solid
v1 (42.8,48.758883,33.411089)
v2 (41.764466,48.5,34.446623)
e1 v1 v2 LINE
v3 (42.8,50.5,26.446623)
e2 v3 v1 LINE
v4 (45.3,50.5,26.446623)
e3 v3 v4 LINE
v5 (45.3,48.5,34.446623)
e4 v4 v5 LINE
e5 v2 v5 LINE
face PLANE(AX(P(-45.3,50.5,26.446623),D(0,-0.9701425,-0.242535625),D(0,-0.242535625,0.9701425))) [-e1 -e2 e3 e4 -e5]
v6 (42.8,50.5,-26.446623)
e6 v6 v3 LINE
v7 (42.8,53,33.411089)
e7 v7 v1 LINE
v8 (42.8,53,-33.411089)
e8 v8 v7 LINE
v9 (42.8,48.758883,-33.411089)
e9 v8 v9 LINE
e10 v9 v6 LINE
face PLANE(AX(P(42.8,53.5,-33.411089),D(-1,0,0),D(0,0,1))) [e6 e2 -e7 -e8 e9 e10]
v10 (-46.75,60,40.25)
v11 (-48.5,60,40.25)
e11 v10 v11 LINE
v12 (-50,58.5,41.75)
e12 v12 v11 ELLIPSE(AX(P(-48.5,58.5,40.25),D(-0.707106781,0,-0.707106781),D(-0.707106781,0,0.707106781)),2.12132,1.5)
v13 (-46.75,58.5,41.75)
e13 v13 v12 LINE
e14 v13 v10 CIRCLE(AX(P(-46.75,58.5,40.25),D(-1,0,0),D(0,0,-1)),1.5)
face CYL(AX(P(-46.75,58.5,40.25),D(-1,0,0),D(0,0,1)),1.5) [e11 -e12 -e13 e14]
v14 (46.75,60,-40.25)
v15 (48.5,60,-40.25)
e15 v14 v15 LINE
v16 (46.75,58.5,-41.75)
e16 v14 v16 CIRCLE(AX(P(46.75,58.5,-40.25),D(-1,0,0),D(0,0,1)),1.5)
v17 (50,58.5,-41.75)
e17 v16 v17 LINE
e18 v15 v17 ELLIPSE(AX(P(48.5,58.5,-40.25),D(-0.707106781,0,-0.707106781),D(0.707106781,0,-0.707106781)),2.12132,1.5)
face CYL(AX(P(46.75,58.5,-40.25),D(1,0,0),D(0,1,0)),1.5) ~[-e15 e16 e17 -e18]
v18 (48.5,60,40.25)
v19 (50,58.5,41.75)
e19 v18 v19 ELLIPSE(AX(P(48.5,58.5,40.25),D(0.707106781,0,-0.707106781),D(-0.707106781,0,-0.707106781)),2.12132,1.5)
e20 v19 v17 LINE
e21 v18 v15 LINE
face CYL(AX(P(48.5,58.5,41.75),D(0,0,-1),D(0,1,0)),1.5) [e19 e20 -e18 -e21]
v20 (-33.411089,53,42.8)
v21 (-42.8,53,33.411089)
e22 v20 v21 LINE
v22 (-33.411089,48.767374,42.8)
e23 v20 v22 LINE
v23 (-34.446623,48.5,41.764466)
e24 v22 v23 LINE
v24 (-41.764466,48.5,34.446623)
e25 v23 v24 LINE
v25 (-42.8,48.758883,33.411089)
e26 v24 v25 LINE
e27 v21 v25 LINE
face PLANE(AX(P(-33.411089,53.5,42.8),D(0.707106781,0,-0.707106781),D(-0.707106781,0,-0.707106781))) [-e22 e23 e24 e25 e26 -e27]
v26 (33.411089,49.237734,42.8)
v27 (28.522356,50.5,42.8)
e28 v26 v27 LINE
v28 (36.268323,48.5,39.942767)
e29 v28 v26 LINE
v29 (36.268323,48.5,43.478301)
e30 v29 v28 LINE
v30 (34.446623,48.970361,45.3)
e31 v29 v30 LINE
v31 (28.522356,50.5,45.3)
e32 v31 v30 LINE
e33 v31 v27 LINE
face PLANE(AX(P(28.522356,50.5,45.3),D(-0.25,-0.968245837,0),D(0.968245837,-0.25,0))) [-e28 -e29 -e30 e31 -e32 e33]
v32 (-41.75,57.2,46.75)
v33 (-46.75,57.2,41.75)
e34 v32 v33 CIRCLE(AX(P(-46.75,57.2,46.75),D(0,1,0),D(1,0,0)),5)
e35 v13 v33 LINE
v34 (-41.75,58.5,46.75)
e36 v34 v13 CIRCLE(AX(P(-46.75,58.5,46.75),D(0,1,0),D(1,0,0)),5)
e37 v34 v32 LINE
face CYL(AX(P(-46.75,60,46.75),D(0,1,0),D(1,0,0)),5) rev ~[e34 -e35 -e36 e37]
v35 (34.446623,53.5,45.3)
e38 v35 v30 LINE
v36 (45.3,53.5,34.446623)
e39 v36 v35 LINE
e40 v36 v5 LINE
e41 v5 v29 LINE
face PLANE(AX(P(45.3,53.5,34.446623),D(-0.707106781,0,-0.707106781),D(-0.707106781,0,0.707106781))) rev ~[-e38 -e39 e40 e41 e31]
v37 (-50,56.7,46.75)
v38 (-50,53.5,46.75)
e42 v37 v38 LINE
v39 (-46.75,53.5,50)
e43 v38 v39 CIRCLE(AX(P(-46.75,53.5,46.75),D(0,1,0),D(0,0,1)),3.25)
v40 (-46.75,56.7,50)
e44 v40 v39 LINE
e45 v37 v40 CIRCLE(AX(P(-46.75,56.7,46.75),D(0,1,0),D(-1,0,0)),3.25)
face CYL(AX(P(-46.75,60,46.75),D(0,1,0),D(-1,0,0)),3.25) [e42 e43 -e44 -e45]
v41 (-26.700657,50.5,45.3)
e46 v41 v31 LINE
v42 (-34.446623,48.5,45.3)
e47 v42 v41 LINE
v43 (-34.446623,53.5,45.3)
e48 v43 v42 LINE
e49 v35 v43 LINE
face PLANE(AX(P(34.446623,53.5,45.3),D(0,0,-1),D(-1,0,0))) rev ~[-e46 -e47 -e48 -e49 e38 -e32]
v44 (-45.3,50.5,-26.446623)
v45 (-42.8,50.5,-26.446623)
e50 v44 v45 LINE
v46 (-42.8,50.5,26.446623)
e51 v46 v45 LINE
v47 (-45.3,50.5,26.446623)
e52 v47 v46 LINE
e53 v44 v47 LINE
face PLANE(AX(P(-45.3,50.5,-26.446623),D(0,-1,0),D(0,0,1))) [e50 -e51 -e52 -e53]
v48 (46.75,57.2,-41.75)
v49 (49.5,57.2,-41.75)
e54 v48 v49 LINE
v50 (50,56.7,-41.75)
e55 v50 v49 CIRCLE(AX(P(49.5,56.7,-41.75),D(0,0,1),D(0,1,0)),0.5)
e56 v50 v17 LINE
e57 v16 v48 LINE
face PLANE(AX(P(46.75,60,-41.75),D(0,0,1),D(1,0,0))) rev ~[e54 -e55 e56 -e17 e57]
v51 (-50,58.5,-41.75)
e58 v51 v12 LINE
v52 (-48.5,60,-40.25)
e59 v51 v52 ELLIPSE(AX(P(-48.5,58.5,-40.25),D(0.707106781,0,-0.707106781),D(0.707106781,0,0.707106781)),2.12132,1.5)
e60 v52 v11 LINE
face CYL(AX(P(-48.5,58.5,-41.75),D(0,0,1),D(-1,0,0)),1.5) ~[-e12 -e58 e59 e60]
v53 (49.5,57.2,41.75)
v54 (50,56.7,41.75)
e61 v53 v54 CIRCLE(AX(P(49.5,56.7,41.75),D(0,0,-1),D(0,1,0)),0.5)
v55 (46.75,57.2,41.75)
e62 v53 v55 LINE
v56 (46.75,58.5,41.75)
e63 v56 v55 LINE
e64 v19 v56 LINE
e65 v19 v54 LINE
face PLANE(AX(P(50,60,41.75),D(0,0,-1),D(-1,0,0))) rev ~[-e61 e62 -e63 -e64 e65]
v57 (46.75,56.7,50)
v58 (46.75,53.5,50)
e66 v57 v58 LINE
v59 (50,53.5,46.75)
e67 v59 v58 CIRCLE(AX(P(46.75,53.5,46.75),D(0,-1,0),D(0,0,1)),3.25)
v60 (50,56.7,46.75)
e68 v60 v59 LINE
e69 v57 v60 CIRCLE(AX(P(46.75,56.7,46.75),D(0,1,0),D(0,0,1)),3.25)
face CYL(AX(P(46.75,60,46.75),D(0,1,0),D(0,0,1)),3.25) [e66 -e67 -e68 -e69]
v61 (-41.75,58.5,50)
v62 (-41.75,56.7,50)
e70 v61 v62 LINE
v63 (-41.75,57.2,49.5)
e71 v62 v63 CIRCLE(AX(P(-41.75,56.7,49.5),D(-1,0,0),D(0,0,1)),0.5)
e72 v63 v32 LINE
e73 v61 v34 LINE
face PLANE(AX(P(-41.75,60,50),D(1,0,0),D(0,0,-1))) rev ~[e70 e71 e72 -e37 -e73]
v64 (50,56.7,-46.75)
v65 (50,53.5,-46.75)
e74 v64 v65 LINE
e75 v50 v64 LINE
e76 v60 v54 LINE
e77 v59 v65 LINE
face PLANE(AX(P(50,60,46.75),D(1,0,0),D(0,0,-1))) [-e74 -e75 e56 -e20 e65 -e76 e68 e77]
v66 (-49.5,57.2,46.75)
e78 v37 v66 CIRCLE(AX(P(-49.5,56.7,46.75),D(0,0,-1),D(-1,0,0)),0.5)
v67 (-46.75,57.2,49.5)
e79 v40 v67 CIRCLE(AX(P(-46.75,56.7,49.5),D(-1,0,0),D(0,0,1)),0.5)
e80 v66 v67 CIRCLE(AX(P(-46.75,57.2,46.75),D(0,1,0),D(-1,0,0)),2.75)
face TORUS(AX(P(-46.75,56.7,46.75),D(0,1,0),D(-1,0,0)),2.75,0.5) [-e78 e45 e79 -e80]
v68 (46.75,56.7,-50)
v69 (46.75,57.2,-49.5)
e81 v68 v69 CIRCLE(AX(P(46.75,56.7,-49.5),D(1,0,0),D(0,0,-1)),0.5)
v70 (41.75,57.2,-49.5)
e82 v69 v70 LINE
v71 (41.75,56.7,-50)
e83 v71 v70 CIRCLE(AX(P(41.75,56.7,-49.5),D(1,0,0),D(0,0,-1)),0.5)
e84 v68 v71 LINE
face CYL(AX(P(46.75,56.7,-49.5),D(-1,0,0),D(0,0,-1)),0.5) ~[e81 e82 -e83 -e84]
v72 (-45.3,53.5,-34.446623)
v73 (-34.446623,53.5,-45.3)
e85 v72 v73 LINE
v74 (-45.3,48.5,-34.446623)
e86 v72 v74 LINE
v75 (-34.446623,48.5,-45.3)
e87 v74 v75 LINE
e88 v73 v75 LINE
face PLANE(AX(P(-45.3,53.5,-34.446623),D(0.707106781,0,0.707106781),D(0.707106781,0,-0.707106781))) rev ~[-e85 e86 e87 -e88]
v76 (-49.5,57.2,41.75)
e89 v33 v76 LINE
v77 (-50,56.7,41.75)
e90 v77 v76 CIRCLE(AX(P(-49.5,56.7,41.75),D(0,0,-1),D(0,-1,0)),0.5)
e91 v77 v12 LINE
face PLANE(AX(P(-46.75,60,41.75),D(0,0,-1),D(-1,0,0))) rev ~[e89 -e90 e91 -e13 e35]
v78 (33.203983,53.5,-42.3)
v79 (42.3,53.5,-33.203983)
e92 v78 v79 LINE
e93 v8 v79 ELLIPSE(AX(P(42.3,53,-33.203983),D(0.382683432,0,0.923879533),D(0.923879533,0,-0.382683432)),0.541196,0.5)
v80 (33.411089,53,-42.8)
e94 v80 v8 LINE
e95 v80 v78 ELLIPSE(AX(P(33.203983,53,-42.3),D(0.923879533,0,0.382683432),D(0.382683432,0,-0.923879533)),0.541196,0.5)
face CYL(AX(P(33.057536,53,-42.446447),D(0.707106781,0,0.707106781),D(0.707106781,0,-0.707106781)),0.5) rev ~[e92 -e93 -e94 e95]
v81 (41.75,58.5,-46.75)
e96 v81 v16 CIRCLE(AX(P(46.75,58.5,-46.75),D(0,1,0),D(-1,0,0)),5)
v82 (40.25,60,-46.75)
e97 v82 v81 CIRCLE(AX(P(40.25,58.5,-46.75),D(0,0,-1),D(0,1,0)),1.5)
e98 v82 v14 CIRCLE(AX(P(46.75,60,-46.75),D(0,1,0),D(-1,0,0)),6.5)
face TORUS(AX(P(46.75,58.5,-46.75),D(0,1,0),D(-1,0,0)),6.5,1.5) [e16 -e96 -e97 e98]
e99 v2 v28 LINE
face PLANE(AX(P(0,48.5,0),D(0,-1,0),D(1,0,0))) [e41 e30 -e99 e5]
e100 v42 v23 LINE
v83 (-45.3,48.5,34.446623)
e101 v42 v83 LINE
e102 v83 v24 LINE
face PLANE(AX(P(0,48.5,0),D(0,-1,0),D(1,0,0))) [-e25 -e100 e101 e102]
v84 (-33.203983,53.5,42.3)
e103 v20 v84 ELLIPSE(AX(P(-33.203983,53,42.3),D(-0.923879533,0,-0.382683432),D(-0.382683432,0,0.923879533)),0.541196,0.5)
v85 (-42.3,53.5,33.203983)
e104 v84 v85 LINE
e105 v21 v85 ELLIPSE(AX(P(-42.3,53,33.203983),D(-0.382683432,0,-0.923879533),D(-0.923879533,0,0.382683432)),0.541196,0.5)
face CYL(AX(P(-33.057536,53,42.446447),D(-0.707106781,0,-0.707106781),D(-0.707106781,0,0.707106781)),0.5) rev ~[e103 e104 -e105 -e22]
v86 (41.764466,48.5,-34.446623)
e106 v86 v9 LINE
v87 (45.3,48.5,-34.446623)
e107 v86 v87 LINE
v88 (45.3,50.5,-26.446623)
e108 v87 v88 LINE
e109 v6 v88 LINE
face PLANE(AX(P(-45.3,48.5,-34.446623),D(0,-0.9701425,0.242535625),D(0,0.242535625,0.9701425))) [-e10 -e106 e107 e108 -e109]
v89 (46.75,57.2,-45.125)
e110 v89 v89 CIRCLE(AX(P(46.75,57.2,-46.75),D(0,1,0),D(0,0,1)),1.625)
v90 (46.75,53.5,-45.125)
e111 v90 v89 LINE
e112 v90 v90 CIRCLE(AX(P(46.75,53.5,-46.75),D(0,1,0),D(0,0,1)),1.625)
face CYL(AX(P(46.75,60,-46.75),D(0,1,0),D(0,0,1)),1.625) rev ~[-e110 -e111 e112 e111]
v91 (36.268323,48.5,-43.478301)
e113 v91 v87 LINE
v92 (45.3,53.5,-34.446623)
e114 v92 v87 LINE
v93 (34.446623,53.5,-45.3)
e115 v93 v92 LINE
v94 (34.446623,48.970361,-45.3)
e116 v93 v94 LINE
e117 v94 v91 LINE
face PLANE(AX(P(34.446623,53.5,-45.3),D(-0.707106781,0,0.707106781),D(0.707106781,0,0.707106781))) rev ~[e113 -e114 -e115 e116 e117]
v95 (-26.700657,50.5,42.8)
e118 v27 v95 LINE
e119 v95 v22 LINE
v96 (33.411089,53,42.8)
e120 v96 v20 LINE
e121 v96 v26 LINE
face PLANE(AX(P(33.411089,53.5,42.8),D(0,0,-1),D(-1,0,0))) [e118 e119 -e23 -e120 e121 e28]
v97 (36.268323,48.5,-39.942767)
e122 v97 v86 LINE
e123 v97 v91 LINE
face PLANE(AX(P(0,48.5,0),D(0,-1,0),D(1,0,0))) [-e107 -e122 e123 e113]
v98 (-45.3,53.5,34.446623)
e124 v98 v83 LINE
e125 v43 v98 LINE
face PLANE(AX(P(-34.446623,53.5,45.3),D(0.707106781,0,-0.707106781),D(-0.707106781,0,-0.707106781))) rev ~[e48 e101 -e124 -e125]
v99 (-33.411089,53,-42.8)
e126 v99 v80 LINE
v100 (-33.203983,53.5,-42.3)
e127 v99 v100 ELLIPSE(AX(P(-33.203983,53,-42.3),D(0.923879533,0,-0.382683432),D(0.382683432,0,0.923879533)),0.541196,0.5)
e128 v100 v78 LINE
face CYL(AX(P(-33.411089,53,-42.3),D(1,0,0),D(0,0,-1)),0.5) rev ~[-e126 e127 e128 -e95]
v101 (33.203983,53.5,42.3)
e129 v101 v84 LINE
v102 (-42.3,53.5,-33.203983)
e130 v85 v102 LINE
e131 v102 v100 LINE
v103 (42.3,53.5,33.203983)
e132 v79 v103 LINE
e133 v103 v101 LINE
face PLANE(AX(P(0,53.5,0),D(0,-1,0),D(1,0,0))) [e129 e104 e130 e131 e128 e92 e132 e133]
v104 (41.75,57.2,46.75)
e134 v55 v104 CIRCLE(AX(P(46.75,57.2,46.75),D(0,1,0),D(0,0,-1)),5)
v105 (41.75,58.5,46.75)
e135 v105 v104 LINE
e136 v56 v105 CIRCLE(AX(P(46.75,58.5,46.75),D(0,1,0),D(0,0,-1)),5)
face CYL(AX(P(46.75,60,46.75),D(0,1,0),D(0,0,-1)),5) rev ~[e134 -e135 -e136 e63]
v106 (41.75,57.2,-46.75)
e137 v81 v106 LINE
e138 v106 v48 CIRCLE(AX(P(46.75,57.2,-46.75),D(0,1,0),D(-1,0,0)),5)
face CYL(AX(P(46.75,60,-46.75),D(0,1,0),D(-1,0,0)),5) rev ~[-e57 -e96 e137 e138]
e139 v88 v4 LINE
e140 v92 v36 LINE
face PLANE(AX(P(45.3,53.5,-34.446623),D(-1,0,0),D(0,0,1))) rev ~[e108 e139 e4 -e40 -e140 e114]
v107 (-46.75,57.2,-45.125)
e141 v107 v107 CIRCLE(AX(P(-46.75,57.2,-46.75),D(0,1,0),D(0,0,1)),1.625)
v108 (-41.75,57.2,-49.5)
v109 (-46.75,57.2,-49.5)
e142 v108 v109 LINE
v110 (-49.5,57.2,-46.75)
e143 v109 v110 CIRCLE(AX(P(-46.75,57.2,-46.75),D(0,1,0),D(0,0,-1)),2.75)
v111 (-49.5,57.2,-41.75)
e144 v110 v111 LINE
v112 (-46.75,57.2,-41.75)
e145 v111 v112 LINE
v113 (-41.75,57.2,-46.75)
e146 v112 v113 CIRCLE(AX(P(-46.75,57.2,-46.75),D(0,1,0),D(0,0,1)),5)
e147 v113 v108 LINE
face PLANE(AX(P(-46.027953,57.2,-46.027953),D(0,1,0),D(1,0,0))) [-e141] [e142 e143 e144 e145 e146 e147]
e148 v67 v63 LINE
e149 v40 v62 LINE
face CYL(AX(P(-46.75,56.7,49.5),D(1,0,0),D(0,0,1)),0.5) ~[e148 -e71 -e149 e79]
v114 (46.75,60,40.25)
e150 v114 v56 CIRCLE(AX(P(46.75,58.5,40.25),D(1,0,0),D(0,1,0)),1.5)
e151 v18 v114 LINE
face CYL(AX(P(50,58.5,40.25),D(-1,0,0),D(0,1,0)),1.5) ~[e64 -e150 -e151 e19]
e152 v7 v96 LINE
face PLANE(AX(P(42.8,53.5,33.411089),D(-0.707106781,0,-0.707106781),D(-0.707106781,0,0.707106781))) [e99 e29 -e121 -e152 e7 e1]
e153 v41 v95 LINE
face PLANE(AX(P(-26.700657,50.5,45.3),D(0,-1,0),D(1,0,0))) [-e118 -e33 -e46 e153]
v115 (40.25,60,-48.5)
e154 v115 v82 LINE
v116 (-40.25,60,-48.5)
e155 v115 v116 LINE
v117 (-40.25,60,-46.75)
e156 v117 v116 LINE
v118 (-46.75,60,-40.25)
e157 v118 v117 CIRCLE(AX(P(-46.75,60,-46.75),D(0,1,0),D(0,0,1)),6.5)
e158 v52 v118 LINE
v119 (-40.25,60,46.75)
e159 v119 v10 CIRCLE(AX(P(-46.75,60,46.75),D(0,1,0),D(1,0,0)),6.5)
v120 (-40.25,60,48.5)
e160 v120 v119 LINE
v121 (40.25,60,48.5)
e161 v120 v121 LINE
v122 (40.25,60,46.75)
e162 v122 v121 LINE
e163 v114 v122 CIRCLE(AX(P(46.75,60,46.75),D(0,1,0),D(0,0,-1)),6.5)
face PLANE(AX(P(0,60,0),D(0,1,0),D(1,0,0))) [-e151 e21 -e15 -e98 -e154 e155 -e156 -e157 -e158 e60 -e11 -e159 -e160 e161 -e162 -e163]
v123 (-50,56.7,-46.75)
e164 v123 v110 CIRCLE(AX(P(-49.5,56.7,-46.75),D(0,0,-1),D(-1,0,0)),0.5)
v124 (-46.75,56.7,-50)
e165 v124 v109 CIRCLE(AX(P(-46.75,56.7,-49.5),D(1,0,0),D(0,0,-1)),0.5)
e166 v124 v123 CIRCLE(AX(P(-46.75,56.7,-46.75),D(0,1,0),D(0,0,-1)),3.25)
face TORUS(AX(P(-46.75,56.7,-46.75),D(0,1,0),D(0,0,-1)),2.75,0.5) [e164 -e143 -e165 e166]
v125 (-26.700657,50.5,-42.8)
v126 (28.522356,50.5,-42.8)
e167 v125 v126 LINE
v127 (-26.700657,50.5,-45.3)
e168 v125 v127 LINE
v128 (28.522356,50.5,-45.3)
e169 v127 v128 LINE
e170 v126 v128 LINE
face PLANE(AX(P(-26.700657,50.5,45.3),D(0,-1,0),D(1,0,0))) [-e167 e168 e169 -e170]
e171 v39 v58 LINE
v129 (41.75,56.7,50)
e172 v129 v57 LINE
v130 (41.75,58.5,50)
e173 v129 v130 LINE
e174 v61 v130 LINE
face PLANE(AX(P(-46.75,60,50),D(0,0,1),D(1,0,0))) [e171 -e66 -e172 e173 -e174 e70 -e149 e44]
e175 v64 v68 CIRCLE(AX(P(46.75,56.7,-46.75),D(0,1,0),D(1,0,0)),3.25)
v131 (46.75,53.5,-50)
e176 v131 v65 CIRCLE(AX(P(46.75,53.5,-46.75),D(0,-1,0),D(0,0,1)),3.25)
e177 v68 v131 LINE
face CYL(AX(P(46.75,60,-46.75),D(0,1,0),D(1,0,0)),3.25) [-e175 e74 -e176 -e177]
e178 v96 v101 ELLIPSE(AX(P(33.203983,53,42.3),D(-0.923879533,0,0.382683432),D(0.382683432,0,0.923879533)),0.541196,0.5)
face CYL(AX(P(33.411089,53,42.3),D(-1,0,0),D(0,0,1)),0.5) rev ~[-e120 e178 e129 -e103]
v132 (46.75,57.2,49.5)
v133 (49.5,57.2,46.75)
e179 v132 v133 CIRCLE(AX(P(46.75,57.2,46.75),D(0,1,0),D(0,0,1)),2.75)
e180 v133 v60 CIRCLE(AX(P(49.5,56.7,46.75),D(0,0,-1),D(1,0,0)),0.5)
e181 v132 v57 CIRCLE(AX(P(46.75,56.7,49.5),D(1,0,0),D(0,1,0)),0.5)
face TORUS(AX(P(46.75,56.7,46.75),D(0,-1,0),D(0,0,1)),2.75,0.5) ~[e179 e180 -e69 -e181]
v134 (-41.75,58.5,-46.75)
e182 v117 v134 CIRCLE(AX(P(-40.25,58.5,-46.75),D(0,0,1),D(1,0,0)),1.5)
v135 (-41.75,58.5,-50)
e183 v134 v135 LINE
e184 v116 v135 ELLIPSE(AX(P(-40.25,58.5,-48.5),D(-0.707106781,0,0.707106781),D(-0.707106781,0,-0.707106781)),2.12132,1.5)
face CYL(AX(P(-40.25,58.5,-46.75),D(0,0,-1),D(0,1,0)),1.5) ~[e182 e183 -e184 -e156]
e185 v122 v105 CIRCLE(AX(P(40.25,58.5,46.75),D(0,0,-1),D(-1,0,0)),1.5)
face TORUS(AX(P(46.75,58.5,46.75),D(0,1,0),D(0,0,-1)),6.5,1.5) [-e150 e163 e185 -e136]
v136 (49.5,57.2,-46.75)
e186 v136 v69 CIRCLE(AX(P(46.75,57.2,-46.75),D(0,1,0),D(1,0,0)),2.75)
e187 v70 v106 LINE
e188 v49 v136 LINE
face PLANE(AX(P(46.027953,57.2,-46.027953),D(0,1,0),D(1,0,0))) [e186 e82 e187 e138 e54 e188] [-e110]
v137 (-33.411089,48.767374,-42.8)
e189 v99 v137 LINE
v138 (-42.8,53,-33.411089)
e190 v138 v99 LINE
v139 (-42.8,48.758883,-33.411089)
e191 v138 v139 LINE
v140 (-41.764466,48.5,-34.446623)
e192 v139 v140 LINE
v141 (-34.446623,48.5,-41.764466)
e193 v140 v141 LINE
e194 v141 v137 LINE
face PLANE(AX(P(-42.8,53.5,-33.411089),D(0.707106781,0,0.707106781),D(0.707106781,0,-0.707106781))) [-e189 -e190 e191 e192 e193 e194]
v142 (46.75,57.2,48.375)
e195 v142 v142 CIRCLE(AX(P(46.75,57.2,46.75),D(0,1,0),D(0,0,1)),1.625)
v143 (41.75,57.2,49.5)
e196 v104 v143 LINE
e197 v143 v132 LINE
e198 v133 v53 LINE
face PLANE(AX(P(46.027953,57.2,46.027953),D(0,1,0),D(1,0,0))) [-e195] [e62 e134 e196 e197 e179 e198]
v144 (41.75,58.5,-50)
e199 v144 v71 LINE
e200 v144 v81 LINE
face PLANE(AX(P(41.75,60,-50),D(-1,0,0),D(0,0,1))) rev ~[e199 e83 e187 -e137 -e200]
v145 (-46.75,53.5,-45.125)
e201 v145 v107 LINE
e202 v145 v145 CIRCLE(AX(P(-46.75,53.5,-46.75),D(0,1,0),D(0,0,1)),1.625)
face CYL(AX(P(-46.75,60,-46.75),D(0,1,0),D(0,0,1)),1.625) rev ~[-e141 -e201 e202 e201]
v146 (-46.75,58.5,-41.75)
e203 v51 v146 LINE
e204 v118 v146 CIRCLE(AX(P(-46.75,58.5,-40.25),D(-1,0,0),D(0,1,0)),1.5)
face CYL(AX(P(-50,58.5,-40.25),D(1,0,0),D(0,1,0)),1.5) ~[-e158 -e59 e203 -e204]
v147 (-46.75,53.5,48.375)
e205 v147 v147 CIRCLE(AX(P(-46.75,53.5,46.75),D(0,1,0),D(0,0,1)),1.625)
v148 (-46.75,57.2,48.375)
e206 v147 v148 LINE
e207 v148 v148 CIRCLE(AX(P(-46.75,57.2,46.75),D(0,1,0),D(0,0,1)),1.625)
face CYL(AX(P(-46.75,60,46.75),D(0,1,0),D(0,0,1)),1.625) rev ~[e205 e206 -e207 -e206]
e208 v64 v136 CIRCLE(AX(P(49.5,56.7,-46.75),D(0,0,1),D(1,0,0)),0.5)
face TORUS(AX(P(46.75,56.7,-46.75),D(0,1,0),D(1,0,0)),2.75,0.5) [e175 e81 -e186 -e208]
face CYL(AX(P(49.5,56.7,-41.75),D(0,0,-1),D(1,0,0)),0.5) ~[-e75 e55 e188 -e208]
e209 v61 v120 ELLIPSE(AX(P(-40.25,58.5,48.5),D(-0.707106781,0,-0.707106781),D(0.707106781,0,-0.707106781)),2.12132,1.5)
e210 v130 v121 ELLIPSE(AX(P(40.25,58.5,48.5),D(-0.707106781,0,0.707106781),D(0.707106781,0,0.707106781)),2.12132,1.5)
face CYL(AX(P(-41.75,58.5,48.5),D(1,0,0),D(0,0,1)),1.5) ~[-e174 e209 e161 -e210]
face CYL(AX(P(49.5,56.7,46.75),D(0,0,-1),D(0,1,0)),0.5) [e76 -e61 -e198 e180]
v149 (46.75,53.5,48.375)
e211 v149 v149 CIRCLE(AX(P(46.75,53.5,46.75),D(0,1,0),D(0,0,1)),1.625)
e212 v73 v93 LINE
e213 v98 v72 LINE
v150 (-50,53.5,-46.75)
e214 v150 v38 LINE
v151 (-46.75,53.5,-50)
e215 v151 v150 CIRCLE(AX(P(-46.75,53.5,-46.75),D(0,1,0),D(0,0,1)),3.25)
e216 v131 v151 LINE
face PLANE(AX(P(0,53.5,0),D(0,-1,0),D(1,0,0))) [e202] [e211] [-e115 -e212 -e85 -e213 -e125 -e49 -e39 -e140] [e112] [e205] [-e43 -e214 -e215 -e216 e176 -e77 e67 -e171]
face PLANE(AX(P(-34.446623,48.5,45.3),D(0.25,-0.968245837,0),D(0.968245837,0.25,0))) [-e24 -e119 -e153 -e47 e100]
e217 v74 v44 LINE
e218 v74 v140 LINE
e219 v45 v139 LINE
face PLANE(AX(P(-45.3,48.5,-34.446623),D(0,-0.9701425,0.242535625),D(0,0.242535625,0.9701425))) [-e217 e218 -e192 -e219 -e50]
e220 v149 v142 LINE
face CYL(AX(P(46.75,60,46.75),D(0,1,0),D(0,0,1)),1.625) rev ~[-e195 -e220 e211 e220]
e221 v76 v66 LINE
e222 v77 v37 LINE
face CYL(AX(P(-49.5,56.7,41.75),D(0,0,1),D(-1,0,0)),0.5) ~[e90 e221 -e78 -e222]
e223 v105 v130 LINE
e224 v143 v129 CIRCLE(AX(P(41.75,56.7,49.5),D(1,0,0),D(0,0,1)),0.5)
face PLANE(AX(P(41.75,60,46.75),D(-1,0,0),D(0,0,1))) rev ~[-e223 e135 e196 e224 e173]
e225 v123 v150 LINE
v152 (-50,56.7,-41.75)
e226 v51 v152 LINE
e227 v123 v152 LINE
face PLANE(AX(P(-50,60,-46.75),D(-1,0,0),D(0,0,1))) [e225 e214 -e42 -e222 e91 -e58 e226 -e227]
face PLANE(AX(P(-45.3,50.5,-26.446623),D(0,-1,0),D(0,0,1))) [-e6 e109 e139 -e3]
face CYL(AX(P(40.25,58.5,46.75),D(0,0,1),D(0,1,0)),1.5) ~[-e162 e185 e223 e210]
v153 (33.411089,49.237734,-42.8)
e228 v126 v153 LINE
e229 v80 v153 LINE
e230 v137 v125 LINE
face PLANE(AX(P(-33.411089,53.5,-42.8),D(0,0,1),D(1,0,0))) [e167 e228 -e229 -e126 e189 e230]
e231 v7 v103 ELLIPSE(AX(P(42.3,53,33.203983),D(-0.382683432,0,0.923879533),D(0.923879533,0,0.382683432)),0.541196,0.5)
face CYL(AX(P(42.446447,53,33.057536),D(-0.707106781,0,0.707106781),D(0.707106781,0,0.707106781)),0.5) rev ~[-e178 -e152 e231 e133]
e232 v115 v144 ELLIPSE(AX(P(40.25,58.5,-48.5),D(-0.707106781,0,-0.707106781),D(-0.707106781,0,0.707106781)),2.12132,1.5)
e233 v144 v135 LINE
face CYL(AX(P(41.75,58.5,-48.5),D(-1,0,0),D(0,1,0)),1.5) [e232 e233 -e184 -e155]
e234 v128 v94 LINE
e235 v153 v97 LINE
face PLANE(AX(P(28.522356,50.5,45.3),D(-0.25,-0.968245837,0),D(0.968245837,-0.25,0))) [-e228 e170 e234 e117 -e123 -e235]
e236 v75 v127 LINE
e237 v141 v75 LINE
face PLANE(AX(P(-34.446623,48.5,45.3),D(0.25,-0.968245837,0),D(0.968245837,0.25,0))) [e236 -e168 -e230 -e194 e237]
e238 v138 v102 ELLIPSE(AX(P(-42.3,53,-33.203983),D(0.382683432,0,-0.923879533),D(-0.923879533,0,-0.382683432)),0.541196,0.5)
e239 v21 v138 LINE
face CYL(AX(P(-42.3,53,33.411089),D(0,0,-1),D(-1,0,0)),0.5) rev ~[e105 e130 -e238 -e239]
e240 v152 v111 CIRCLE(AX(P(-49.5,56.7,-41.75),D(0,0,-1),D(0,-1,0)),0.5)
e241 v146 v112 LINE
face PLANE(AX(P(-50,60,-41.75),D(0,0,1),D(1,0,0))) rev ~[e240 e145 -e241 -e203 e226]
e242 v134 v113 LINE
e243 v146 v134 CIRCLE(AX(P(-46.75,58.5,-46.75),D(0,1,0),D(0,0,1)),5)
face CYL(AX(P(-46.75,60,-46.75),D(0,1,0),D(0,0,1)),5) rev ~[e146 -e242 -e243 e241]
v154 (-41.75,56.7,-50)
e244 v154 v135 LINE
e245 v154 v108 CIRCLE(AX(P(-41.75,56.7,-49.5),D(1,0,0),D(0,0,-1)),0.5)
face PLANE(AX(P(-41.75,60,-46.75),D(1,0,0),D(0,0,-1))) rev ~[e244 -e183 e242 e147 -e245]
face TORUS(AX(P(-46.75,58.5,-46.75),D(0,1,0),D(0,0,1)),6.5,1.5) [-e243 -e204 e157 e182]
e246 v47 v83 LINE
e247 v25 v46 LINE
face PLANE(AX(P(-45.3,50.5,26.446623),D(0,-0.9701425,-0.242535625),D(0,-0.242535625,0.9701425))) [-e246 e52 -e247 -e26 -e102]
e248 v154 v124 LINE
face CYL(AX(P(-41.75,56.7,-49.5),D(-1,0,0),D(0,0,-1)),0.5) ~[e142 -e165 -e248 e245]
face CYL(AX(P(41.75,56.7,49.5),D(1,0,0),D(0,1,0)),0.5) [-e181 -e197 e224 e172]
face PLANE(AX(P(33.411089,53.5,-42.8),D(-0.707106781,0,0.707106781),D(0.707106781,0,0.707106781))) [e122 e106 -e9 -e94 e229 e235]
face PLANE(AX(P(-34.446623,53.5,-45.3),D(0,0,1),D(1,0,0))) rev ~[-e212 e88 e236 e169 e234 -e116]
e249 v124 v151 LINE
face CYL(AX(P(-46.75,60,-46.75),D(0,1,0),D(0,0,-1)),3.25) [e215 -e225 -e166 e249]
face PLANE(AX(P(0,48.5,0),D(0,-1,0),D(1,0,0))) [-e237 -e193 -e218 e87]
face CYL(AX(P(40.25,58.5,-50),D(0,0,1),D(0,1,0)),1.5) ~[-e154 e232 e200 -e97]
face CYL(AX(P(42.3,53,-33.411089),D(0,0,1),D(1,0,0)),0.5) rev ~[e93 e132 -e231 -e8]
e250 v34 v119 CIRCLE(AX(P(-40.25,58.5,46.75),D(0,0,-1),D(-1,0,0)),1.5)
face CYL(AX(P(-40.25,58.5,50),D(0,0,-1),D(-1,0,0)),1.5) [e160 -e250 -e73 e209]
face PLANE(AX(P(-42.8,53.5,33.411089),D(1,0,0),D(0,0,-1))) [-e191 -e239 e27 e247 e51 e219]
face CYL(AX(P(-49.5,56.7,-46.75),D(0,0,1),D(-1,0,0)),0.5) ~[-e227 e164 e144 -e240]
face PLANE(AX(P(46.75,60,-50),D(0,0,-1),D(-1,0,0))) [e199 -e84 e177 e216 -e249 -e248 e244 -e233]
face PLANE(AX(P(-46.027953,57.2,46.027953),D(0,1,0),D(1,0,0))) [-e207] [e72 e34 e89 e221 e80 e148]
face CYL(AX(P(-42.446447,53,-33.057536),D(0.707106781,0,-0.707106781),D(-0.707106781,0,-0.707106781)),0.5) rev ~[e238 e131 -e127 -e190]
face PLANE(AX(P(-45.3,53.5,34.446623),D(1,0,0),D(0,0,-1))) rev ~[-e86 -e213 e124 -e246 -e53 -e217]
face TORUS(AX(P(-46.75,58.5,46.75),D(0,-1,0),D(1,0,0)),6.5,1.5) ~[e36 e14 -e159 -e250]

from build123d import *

# Parameters (mm, degrees)
SKETCH1_W           = 100
SKETCH1_H           = 100
BOSS_EXTRUDE1_DEPTH = 53.5
SKETCH2_R           = 2.5
SKETCH2_W           = 12.6
SKETCH2_H           = 3.072407599
BOSS_EXTRUDE2_DEPTH = 4
CUT_EXTRUDE1_DEPTH  = 47.5
FILLET1_R           = 3.25
FILLET2_R           = 3
SKETCH4_R           = 1.625
CUT_EXTRUDE2_DEPTH  = 14
FILLET3_R           = 3
BOSS_EXTRUDE3_START = 6.5
SKETCH8_R           = 1.625
BOSS_EXTRUDE3_DEPTH = 6.5
SKETCH10_W          = 159.412029064
SKETCH10_H          = 131.965012122
CUT_EXTRUDE3_DEPTH  = 205.5
SKETCH11_R          = 1.625
CUT_EXTRUDE4_DEPTH  = 2.8
FILLET4_R           = 1.5
FILLET5_R           = 0.5
BOSS_EXTRUDE4_DEPTH = 5
FILLET6_R           = 0.5
CUT_EXTRUDE5_DEPTH  = 130
CUT_EXTRUDE6_DEPTH  = 130


with BuildPart() as part:
    # Sketch1 → Boss-Extrude1 (new body)
    with BuildSketch(Plane(origin=(0, 0, 0), x_dir=(1, 0, 0), z_dir=(0, 1, 0))):
        Rectangle(SKETCH1_W, SKETCH1_H)
    extrude(amount=BOSS_EXTRUDE1_DEPTH)

    # Sketch2 → Boss-Extrude2 (add)
    # profile 1 of 8: a face of its own
    with BuildSketch(Plane.XZ):
        with BuildLine():
            Line((33.15, -50), (20.55, -50))
            Line((20.55, -50), (20.55, -56.973787721))
            ThreePointArc((20.55, -56.973787721), (26.85, -63.273787721), (33.15, -56.973787721))
            Line((33.15, -56.973787721), (33.15, -50))
        make_face()
        with Locations(Location((26.85, -56.973787721, 0), (0, 0, 270))):
            Circle(SKETCH2_R, mode=Mode.SUBTRACT)
    # profile 2 of 8: a face of its own
    with BuildSketch(Plane.XZ):
        with BuildLine():
            Line((-20.55, -56.973787721), (-20.55, -50))
            Line((-20.55, -50), (-33.15, -50))
            Line((-33.15, -50), (-33.15, -56.973787721))
            ThreePointArc((-33.15, -56.973787721), (-26.85, -63.273787721), (-20.55, -56.973787721))
        make_face()
        with Locations(Location((-26.85, -56.973787721, 0), (0, 0, 270))):
            Circle(SKETCH2_R, mode=Mode.SUBTRACT)
    # profile 3 of 8: a face of its own
    with BuildSketch(Plane.XZ):
        with Locations((-26.85, 48.4637962)):
            Rectangle(SKETCH2_W, SKETCH2_H)
    # profile 4 of 8: a face of its own
    with BuildSketch(Plane.XZ):
        with BuildLine():
            Line((-33.15, 50), (-20.55, 50))
            Line((-20.55, 50), (-20.55, 56.973787721))
            ThreePointArc((-20.55, 56.973787721), (-26.85, 63.273787721), (-33.15, 56.973787721))
            Line((-33.15, 56.973787721), (-33.15, 50))
        make_face()
        with Locations(Location((-26.85, 56.973787721, 0), (0, 0, 270))):
            Circle(SKETCH2_R, mode=Mode.SUBTRACT)
    # profile 5 of 8: a face of its own
    with BuildSketch(Plane.XZ):
        with BuildLine():
            Line((20.55, 56.973787721), (20.55, 50))
            Line((20.55, 50), (33.15, 50))
            Line((33.15, 50), (33.15, 56.973787721))
            ThreePointArc((33.15, 56.973787721), (26.85, 63.273787721), (20.55, 56.973787721))
        make_face()
        with Locations(Location((26.85, 56.973787721, 0), (0, 0, 270))):
            Circle(SKETCH2_R, mode=Mode.SUBTRACT)
    # profile 6 of 8: a face of its own
    with BuildSketch(Plane.XZ):
        with Locations((26.85, 48.4637962)):
            Rectangle(SKETCH2_W, SKETCH2_H)
    # profile 7 of 8: a face of its own
    with BuildSketch(Plane.XZ):
        with Locations((26.85, -48.4637962)):
            Rectangle(SKETCH2_W, SKETCH2_H)
    # profile 8 of 8: a face of its own
    with BuildSketch(Plane.XZ):
        with Locations((-26.85, -48.4637962)):
            Rectangle(SKETCH2_W, SKETCH2_H)
    extrude(amount=-BOSS_EXTRUDE2_DEPTH)

    # Sketch3 → Cut-Extrude1 (cut)
    with BuildSketch(Plane(origin=(0, 53.5, 0), x_dir=(1, 0, 0), z_dir=(0, 1, 0))):
        Polygon((35.565, 48), (-35.565, 48), (-48, 35.565), (-48, -35.565), (-35.565, -48), (35.565, -48), (48, -35.565), (48, 35.565), align=None)
    extrude(amount=-CUT_EXTRUDE1_DEPTH, mode=Mode.SUBTRACT)

    # Fillet1
    fillet1_edges = [part.edges().sort_by_distance(p)[0] for p in [
        (50, 26.75, 50),
        (-50, 26.75, 50),
        (-50, 26.75, -50),
        (50, 26.75, -50),
    ]]
    fillet(fillet1_edges, radius=FILLET1_R)

    # Fillet2
    fillet2_edges = [part.edges().sort_by_distance(p)[0] for p in [
        (-26.85, 4, 50),
        (26.85, 4, 50),
        (26.85, 4, -50),
        (-26.85, 4, -50),
    ]]
    fillet(fillet2_edges, radius=FILLET2_R)

    # Sketch4 → Cut-Extrude2 (cut)
    with BuildSketch(Plane(origin=(0, 53.5, 0), x_dir=(1, 0, 0), z_dir=(0, 1, 0))):
        with Locations(Location((-46.75, 46.75, 0), (0, 0, 270))):
            Circle(SKETCH4_R)
        with Locations(Location((46.75, 46.75, 0), (0, 0, 270))):
            Circle(SKETCH4_R)
        with Locations(Location((46.75, -46.75, 0), (0, 0, 270))):
            Circle(SKETCH4_R)
        with Locations(Location((-46.75, -46.75, 0), (0, 0, 270))):
            Circle(SKETCH4_R)
    extrude(amount=-CUT_EXTRUDE2_DEPTH, mode=Mode.SUBTRACT)

    # Fillet3
    fillet3_edges = [part.edges().sort_by_distance(p)[0] for p in [
        (50, 0, 0),
        (39.95, 0, -50),
        (-39.95, 0, 50),
        (-50, 0, 0),
        (49.048097039, 0, -49.048097039),
        (-49.048097039, 0, -49.048097039),
        (-49.048097039, 0, 49.048097039),
        (49.048097039, 0, 49.048097039),
        (0, 0, 50),
        (39.95, 0, 50),
        (0, 0, -50),
        (-39.95, 0, -50),
    ]]
    fillet(fillet3_edges, radius=FILLET3_R)

    # Sketch8 → Boss-Extrude3 (add)
    # profile 1 of 2: a face of its own
    with BuildSketch(Plane(origin=(0, 53.5, 0), x_dir=(1, 0, 0), z_dir=(0, 1, 0)).offset(BOSS_EXTRUDE3_START)):
        with BuildLine():
            ThreePointArc((-50, -46.75), (-49.048097039, -49.048097039), (-46.75, -50))
            Line((-46.75, -50), (46.75, -50))
            ThreePointArc((46.75, -50), (49.048097039, -49.048097039), (50, -46.75))
            Line((50, -46.75), (50, 46.75))
            ThreePointArc((50, 46.75), (49.048097039, 49.048097039), (46.75, 50))
            Line((46.75, 50), (-46.75, 50))
            ThreePointArc((-46.75, 50), (-49.048097039, 49.048097039), (-50, 46.75))
            Line((-50, 46.75), (-50, -46.75))
        make_face()
        with Locations(Location((-46.75, 46.75, 0), (0, 0, 270))):
            Circle(SKETCH8_R, mode=Mode.SUBTRACT)
        with Locations(Location((46.75, 46.75, 0), (0, 0, 270))):
            Circle(SKETCH8_R, mode=Mode.SUBTRACT)
        with Locations(Location((-46.75, -46.75, 0), (0, 0, 270))):
            Circle(SKETCH8_R, mode=Mode.SUBTRACT)
        with Locations(Location((46.75, -46.75, 0), (0, 0, 270))):
            Circle(SKETCH8_R, mode=Mode.SUBTRACT)
        Polygon((-35.565, 48), (35.565, 48), (48, 35.565), (48, -35.565), (35.565, -48), (-35.565, -48), (-48, -35.565), (-48, 35.565), align=None, mode=Mode.SUBTRACT)
    # profile 2 of 2: a face of its own
    with BuildSketch(Plane(origin=(0, 53.5, 0), x_dir=(1, 0, 0), z_dir=(0, 1, 0)).offset(BOSS_EXTRUDE3_START)):
        Polygon((35.565, 48), (48, 35.565), (48, -35.565), (35.565, -48), (-35.565, -48), (-48, -35.565), (-48, 35.565), (-35.565, 48), align=None)
    extrude(amount=-BOSS_EXTRUDE3_DEPTH)

    # Sketch10 → Cut-Extrude3 (cut)
    with BuildSketch(Plane.XZ.offset(-53.5)):
        Rectangle(SKETCH10_W, SKETCH10_H)
    extrude(amount=CUT_EXTRUDE3_DEPTH, mode=Mode.SUBTRACT)

    # Sketch11 → Cut-Extrude4 (cut)
    # profile 1 of 4: a face of its own
    with BuildSketch(Plane(origin=(0, 60, 0), x_dir=(1, 0, 0), z_dir=(0, 1, 0))):
        with BuildLine():
            Line((-46.75, -41.75), (-50, -41.75))
            Line((-50, -41.75), (-50, -46.75))
            ThreePointArc((-50, -46.75), (-49.048097039, -49.048097039), (-46.75, -50))
            Line((-46.75, -50), (-41.75, -50))
            Line((-41.75, -50), (-41.75, -46.75))
            ThreePointArc((-41.75, -46.75), (-43.214466094, -43.214466094), (-46.75, -41.75))
        make_face()
        with Locations(Location((-46.75, -46.75, 0), (0, 0, 270))):
            Circle(SKETCH11_R, mode=Mode.SUBTRACT)
    # profile 2 of 4: a face of its own
    with BuildSketch(Plane(origin=(0, 60, 0), x_dir=(1, 0, 0), z_dir=(0, 1, 0))):
        with BuildLine():
            Line((-50, 41.75), (-46.75, 41.75))
            ThreePointArc((-46.75, 41.75), (-43.214466094, 43.214466094), (-41.75, 46.75))
            Line((-41.75, 46.75), (-41.75, 50))
            Line((-41.75, 50), (-46.75, 50))
            ThreePointArc((-46.75, 50), (-49.048097039, 49.048097039), (-50, 46.75))
            Line((-50, 46.75), (-50, 41.75))
        make_face()
        with Locations(Location((-46.75, 46.75, 0), (0, 0, 270))):
            Circle(SKETCH11_R, mode=Mode.SUBTRACT)
    # profile 3 of 4: a face of its own
    with BuildSketch(Plane(origin=(0, 60, 0), x_dir=(1, 0, 0), z_dir=(0, 1, 0))):
        with BuildLine():
            Line((46.75, 50), (41.75, 50))
            Line((41.75, 50), (41.75, 46.75))
            ThreePointArc((41.75, 46.75), (43.214466094, 43.214466094), (46.75, 41.75))
            Line((46.75, 41.75), (50, 41.75))
            Line((50, 41.75), (50, 46.75))
            ThreePointArc((50, 46.75), (49.048097039, 49.048097039), (46.75, 50))
        make_face()
        with Locations(Location((46.75, 46.75, 0), (0, 0, 270))):
            Circle(SKETCH11_R, mode=Mode.SUBTRACT)
    # profile 4 of 4: a face of its own
    with BuildSketch(Plane(origin=(0, 60, 0), x_dir=(1, 0, 0), z_dir=(0, 1, 0))):
        with BuildLine():
            Line((41.75, -46.75), (41.75, -50))
            Line((41.75, -50), (46.75, -50))
            ThreePointArc((46.75, -50), (49.048097039, -49.048097039), (50, -46.75))
            Line((50, -46.75), (50, -41.75))
            Line((50, -41.75), (46.75, -41.75))
            ThreePointArc((46.75, -41.75), (43.214466094, -43.214466094), (41.75, -46.75))
        make_face()
        with Locations(Location((46.75, -46.75, 0), (0, 0, 270))):
            Circle(SKETCH11_R, mode=Mode.SUBTRACT)
    extrude(amount=-CUT_EXTRUDE4_DEPTH, mode=Mode.SUBTRACT)

    # Fillet4
    fillet4_edges = [part.edges().sort_by_distance(p)[0] for p in [
        (0, 60, 50),
        (50, 60, 0),
        (0, 60, -50),
        (-50, 60, 0),
        (48.375, 60, 41.75),
        (41.75, 60, 48.375),
        (43.214466094, 60, 43.214466094),
        (43.214466094, 60, -43.214466094),
        (48.375, 60, -41.75),
        (41.75, 60, -48.375),
        (-48.375, 60, -41.75),
        (-41.75, 60, -48.375),
        (-43.214466094, 60, -43.214466094),
        (-43.214466094, 60, 43.214466094),
        (-48.375, 60, 41.75),
        (-41.75, 60, 48.375),
    ]]
    fillet(fillet4_edges, radius=FILLET4_R)

    # Fillet5
    fillet5_edges = [part.edges().sort_by_distance(p)[0] for p in [
        (50, 57.2, 44.25),
        (49.048097039, 57.2, 49.048097039),
        (44.25, 57.2, 50),
        (44.25, 57.2, -50),
        (49.048097039, 57.2, -49.048097039),
        (50, 57.2, -44.25),
        (-50, 57.2, -44.25),
        (-49.048097039, 57.2, -49.048097039),
        (-44.25, 57.2, -50),
        (-44.25, 57.2, 50),
        (-49.048097039, 57.2, 49.048097039),
        (-50, 57.2, 44.25),
    ]]
    fillet(fillet5_edges, radius=FILLET5_R)

    # Sketch12 → Boss-Extrude4 (add)
    with BuildSketch(Plane.XZ.offset(-53.5)):
        Polygon((-45.3, -34.446623382), (-34.446623382, -45.3), (34.446623382, -45.3), (45.3, -34.446623382), (45.3, 34.446623382), (34.446623382, 45.3), (-34.446623382, 45.3), (-45.3, 34.446623382), align=None)
        Polygon((-33.411089476, -42.8), (33.411089476, -42.8), (42.8, -33.411089476), (42.8, 33.411089476), (33.411089476, 42.8), (-33.411089476, 42.8), (-42.8, 33.411089476), (-42.8, -33.411089476), align=None, mode=Mode.SUBTRACT)
    extrude(amount=BOSS_EXTRUDE4_DEPTH)

    # Fillet6
    fillet6_edges = [part.edges().sort_by_distance(p)[0] for p in [
        (0, 53.5, -42.8),
        (38.105544738, 53.5, -38.105544738),
        (42.8, 53.5, 0),
        (38.105544738, 53.5, 38.105544738),
        (0, 53.5, 42.8),
        (-38.105544738, 53.5, 38.105544738),
        (-42.8, 53.5, 0),
        (-38.105544738, 53.5, -38.105544738),
    ]]
    fillet(fillet6_edges, radius=FILLET6_R)

    # Sketch13 → Cut-Extrude5 (cut)
    with BuildSketch(Plane.ZY.offset(45.3)):
        Polygon((-34.446623382, 48.5), (-26.446623382, 50.5), (26.446623382, 50.5), (34.446623382, 48.5), align=None)
    extrude(amount=-CUT_EXTRUDE5_DEPTH, mode=Mode.SUBTRACT)

    # Sketch14 → Cut-Extrude6 (cut)
    with BuildSketch(Plane.XY.offset(45.3)):
        Polygon((-34.446623382, 48.5), (-26.700656689, 50.5), (28.522356043, 50.5), (36.268322735, 48.5), align=None)
    extrude(amount=-CUT_EXTRUDE6_DEPTH, mode=Mode.SUBTRACT)


solid = part.part
